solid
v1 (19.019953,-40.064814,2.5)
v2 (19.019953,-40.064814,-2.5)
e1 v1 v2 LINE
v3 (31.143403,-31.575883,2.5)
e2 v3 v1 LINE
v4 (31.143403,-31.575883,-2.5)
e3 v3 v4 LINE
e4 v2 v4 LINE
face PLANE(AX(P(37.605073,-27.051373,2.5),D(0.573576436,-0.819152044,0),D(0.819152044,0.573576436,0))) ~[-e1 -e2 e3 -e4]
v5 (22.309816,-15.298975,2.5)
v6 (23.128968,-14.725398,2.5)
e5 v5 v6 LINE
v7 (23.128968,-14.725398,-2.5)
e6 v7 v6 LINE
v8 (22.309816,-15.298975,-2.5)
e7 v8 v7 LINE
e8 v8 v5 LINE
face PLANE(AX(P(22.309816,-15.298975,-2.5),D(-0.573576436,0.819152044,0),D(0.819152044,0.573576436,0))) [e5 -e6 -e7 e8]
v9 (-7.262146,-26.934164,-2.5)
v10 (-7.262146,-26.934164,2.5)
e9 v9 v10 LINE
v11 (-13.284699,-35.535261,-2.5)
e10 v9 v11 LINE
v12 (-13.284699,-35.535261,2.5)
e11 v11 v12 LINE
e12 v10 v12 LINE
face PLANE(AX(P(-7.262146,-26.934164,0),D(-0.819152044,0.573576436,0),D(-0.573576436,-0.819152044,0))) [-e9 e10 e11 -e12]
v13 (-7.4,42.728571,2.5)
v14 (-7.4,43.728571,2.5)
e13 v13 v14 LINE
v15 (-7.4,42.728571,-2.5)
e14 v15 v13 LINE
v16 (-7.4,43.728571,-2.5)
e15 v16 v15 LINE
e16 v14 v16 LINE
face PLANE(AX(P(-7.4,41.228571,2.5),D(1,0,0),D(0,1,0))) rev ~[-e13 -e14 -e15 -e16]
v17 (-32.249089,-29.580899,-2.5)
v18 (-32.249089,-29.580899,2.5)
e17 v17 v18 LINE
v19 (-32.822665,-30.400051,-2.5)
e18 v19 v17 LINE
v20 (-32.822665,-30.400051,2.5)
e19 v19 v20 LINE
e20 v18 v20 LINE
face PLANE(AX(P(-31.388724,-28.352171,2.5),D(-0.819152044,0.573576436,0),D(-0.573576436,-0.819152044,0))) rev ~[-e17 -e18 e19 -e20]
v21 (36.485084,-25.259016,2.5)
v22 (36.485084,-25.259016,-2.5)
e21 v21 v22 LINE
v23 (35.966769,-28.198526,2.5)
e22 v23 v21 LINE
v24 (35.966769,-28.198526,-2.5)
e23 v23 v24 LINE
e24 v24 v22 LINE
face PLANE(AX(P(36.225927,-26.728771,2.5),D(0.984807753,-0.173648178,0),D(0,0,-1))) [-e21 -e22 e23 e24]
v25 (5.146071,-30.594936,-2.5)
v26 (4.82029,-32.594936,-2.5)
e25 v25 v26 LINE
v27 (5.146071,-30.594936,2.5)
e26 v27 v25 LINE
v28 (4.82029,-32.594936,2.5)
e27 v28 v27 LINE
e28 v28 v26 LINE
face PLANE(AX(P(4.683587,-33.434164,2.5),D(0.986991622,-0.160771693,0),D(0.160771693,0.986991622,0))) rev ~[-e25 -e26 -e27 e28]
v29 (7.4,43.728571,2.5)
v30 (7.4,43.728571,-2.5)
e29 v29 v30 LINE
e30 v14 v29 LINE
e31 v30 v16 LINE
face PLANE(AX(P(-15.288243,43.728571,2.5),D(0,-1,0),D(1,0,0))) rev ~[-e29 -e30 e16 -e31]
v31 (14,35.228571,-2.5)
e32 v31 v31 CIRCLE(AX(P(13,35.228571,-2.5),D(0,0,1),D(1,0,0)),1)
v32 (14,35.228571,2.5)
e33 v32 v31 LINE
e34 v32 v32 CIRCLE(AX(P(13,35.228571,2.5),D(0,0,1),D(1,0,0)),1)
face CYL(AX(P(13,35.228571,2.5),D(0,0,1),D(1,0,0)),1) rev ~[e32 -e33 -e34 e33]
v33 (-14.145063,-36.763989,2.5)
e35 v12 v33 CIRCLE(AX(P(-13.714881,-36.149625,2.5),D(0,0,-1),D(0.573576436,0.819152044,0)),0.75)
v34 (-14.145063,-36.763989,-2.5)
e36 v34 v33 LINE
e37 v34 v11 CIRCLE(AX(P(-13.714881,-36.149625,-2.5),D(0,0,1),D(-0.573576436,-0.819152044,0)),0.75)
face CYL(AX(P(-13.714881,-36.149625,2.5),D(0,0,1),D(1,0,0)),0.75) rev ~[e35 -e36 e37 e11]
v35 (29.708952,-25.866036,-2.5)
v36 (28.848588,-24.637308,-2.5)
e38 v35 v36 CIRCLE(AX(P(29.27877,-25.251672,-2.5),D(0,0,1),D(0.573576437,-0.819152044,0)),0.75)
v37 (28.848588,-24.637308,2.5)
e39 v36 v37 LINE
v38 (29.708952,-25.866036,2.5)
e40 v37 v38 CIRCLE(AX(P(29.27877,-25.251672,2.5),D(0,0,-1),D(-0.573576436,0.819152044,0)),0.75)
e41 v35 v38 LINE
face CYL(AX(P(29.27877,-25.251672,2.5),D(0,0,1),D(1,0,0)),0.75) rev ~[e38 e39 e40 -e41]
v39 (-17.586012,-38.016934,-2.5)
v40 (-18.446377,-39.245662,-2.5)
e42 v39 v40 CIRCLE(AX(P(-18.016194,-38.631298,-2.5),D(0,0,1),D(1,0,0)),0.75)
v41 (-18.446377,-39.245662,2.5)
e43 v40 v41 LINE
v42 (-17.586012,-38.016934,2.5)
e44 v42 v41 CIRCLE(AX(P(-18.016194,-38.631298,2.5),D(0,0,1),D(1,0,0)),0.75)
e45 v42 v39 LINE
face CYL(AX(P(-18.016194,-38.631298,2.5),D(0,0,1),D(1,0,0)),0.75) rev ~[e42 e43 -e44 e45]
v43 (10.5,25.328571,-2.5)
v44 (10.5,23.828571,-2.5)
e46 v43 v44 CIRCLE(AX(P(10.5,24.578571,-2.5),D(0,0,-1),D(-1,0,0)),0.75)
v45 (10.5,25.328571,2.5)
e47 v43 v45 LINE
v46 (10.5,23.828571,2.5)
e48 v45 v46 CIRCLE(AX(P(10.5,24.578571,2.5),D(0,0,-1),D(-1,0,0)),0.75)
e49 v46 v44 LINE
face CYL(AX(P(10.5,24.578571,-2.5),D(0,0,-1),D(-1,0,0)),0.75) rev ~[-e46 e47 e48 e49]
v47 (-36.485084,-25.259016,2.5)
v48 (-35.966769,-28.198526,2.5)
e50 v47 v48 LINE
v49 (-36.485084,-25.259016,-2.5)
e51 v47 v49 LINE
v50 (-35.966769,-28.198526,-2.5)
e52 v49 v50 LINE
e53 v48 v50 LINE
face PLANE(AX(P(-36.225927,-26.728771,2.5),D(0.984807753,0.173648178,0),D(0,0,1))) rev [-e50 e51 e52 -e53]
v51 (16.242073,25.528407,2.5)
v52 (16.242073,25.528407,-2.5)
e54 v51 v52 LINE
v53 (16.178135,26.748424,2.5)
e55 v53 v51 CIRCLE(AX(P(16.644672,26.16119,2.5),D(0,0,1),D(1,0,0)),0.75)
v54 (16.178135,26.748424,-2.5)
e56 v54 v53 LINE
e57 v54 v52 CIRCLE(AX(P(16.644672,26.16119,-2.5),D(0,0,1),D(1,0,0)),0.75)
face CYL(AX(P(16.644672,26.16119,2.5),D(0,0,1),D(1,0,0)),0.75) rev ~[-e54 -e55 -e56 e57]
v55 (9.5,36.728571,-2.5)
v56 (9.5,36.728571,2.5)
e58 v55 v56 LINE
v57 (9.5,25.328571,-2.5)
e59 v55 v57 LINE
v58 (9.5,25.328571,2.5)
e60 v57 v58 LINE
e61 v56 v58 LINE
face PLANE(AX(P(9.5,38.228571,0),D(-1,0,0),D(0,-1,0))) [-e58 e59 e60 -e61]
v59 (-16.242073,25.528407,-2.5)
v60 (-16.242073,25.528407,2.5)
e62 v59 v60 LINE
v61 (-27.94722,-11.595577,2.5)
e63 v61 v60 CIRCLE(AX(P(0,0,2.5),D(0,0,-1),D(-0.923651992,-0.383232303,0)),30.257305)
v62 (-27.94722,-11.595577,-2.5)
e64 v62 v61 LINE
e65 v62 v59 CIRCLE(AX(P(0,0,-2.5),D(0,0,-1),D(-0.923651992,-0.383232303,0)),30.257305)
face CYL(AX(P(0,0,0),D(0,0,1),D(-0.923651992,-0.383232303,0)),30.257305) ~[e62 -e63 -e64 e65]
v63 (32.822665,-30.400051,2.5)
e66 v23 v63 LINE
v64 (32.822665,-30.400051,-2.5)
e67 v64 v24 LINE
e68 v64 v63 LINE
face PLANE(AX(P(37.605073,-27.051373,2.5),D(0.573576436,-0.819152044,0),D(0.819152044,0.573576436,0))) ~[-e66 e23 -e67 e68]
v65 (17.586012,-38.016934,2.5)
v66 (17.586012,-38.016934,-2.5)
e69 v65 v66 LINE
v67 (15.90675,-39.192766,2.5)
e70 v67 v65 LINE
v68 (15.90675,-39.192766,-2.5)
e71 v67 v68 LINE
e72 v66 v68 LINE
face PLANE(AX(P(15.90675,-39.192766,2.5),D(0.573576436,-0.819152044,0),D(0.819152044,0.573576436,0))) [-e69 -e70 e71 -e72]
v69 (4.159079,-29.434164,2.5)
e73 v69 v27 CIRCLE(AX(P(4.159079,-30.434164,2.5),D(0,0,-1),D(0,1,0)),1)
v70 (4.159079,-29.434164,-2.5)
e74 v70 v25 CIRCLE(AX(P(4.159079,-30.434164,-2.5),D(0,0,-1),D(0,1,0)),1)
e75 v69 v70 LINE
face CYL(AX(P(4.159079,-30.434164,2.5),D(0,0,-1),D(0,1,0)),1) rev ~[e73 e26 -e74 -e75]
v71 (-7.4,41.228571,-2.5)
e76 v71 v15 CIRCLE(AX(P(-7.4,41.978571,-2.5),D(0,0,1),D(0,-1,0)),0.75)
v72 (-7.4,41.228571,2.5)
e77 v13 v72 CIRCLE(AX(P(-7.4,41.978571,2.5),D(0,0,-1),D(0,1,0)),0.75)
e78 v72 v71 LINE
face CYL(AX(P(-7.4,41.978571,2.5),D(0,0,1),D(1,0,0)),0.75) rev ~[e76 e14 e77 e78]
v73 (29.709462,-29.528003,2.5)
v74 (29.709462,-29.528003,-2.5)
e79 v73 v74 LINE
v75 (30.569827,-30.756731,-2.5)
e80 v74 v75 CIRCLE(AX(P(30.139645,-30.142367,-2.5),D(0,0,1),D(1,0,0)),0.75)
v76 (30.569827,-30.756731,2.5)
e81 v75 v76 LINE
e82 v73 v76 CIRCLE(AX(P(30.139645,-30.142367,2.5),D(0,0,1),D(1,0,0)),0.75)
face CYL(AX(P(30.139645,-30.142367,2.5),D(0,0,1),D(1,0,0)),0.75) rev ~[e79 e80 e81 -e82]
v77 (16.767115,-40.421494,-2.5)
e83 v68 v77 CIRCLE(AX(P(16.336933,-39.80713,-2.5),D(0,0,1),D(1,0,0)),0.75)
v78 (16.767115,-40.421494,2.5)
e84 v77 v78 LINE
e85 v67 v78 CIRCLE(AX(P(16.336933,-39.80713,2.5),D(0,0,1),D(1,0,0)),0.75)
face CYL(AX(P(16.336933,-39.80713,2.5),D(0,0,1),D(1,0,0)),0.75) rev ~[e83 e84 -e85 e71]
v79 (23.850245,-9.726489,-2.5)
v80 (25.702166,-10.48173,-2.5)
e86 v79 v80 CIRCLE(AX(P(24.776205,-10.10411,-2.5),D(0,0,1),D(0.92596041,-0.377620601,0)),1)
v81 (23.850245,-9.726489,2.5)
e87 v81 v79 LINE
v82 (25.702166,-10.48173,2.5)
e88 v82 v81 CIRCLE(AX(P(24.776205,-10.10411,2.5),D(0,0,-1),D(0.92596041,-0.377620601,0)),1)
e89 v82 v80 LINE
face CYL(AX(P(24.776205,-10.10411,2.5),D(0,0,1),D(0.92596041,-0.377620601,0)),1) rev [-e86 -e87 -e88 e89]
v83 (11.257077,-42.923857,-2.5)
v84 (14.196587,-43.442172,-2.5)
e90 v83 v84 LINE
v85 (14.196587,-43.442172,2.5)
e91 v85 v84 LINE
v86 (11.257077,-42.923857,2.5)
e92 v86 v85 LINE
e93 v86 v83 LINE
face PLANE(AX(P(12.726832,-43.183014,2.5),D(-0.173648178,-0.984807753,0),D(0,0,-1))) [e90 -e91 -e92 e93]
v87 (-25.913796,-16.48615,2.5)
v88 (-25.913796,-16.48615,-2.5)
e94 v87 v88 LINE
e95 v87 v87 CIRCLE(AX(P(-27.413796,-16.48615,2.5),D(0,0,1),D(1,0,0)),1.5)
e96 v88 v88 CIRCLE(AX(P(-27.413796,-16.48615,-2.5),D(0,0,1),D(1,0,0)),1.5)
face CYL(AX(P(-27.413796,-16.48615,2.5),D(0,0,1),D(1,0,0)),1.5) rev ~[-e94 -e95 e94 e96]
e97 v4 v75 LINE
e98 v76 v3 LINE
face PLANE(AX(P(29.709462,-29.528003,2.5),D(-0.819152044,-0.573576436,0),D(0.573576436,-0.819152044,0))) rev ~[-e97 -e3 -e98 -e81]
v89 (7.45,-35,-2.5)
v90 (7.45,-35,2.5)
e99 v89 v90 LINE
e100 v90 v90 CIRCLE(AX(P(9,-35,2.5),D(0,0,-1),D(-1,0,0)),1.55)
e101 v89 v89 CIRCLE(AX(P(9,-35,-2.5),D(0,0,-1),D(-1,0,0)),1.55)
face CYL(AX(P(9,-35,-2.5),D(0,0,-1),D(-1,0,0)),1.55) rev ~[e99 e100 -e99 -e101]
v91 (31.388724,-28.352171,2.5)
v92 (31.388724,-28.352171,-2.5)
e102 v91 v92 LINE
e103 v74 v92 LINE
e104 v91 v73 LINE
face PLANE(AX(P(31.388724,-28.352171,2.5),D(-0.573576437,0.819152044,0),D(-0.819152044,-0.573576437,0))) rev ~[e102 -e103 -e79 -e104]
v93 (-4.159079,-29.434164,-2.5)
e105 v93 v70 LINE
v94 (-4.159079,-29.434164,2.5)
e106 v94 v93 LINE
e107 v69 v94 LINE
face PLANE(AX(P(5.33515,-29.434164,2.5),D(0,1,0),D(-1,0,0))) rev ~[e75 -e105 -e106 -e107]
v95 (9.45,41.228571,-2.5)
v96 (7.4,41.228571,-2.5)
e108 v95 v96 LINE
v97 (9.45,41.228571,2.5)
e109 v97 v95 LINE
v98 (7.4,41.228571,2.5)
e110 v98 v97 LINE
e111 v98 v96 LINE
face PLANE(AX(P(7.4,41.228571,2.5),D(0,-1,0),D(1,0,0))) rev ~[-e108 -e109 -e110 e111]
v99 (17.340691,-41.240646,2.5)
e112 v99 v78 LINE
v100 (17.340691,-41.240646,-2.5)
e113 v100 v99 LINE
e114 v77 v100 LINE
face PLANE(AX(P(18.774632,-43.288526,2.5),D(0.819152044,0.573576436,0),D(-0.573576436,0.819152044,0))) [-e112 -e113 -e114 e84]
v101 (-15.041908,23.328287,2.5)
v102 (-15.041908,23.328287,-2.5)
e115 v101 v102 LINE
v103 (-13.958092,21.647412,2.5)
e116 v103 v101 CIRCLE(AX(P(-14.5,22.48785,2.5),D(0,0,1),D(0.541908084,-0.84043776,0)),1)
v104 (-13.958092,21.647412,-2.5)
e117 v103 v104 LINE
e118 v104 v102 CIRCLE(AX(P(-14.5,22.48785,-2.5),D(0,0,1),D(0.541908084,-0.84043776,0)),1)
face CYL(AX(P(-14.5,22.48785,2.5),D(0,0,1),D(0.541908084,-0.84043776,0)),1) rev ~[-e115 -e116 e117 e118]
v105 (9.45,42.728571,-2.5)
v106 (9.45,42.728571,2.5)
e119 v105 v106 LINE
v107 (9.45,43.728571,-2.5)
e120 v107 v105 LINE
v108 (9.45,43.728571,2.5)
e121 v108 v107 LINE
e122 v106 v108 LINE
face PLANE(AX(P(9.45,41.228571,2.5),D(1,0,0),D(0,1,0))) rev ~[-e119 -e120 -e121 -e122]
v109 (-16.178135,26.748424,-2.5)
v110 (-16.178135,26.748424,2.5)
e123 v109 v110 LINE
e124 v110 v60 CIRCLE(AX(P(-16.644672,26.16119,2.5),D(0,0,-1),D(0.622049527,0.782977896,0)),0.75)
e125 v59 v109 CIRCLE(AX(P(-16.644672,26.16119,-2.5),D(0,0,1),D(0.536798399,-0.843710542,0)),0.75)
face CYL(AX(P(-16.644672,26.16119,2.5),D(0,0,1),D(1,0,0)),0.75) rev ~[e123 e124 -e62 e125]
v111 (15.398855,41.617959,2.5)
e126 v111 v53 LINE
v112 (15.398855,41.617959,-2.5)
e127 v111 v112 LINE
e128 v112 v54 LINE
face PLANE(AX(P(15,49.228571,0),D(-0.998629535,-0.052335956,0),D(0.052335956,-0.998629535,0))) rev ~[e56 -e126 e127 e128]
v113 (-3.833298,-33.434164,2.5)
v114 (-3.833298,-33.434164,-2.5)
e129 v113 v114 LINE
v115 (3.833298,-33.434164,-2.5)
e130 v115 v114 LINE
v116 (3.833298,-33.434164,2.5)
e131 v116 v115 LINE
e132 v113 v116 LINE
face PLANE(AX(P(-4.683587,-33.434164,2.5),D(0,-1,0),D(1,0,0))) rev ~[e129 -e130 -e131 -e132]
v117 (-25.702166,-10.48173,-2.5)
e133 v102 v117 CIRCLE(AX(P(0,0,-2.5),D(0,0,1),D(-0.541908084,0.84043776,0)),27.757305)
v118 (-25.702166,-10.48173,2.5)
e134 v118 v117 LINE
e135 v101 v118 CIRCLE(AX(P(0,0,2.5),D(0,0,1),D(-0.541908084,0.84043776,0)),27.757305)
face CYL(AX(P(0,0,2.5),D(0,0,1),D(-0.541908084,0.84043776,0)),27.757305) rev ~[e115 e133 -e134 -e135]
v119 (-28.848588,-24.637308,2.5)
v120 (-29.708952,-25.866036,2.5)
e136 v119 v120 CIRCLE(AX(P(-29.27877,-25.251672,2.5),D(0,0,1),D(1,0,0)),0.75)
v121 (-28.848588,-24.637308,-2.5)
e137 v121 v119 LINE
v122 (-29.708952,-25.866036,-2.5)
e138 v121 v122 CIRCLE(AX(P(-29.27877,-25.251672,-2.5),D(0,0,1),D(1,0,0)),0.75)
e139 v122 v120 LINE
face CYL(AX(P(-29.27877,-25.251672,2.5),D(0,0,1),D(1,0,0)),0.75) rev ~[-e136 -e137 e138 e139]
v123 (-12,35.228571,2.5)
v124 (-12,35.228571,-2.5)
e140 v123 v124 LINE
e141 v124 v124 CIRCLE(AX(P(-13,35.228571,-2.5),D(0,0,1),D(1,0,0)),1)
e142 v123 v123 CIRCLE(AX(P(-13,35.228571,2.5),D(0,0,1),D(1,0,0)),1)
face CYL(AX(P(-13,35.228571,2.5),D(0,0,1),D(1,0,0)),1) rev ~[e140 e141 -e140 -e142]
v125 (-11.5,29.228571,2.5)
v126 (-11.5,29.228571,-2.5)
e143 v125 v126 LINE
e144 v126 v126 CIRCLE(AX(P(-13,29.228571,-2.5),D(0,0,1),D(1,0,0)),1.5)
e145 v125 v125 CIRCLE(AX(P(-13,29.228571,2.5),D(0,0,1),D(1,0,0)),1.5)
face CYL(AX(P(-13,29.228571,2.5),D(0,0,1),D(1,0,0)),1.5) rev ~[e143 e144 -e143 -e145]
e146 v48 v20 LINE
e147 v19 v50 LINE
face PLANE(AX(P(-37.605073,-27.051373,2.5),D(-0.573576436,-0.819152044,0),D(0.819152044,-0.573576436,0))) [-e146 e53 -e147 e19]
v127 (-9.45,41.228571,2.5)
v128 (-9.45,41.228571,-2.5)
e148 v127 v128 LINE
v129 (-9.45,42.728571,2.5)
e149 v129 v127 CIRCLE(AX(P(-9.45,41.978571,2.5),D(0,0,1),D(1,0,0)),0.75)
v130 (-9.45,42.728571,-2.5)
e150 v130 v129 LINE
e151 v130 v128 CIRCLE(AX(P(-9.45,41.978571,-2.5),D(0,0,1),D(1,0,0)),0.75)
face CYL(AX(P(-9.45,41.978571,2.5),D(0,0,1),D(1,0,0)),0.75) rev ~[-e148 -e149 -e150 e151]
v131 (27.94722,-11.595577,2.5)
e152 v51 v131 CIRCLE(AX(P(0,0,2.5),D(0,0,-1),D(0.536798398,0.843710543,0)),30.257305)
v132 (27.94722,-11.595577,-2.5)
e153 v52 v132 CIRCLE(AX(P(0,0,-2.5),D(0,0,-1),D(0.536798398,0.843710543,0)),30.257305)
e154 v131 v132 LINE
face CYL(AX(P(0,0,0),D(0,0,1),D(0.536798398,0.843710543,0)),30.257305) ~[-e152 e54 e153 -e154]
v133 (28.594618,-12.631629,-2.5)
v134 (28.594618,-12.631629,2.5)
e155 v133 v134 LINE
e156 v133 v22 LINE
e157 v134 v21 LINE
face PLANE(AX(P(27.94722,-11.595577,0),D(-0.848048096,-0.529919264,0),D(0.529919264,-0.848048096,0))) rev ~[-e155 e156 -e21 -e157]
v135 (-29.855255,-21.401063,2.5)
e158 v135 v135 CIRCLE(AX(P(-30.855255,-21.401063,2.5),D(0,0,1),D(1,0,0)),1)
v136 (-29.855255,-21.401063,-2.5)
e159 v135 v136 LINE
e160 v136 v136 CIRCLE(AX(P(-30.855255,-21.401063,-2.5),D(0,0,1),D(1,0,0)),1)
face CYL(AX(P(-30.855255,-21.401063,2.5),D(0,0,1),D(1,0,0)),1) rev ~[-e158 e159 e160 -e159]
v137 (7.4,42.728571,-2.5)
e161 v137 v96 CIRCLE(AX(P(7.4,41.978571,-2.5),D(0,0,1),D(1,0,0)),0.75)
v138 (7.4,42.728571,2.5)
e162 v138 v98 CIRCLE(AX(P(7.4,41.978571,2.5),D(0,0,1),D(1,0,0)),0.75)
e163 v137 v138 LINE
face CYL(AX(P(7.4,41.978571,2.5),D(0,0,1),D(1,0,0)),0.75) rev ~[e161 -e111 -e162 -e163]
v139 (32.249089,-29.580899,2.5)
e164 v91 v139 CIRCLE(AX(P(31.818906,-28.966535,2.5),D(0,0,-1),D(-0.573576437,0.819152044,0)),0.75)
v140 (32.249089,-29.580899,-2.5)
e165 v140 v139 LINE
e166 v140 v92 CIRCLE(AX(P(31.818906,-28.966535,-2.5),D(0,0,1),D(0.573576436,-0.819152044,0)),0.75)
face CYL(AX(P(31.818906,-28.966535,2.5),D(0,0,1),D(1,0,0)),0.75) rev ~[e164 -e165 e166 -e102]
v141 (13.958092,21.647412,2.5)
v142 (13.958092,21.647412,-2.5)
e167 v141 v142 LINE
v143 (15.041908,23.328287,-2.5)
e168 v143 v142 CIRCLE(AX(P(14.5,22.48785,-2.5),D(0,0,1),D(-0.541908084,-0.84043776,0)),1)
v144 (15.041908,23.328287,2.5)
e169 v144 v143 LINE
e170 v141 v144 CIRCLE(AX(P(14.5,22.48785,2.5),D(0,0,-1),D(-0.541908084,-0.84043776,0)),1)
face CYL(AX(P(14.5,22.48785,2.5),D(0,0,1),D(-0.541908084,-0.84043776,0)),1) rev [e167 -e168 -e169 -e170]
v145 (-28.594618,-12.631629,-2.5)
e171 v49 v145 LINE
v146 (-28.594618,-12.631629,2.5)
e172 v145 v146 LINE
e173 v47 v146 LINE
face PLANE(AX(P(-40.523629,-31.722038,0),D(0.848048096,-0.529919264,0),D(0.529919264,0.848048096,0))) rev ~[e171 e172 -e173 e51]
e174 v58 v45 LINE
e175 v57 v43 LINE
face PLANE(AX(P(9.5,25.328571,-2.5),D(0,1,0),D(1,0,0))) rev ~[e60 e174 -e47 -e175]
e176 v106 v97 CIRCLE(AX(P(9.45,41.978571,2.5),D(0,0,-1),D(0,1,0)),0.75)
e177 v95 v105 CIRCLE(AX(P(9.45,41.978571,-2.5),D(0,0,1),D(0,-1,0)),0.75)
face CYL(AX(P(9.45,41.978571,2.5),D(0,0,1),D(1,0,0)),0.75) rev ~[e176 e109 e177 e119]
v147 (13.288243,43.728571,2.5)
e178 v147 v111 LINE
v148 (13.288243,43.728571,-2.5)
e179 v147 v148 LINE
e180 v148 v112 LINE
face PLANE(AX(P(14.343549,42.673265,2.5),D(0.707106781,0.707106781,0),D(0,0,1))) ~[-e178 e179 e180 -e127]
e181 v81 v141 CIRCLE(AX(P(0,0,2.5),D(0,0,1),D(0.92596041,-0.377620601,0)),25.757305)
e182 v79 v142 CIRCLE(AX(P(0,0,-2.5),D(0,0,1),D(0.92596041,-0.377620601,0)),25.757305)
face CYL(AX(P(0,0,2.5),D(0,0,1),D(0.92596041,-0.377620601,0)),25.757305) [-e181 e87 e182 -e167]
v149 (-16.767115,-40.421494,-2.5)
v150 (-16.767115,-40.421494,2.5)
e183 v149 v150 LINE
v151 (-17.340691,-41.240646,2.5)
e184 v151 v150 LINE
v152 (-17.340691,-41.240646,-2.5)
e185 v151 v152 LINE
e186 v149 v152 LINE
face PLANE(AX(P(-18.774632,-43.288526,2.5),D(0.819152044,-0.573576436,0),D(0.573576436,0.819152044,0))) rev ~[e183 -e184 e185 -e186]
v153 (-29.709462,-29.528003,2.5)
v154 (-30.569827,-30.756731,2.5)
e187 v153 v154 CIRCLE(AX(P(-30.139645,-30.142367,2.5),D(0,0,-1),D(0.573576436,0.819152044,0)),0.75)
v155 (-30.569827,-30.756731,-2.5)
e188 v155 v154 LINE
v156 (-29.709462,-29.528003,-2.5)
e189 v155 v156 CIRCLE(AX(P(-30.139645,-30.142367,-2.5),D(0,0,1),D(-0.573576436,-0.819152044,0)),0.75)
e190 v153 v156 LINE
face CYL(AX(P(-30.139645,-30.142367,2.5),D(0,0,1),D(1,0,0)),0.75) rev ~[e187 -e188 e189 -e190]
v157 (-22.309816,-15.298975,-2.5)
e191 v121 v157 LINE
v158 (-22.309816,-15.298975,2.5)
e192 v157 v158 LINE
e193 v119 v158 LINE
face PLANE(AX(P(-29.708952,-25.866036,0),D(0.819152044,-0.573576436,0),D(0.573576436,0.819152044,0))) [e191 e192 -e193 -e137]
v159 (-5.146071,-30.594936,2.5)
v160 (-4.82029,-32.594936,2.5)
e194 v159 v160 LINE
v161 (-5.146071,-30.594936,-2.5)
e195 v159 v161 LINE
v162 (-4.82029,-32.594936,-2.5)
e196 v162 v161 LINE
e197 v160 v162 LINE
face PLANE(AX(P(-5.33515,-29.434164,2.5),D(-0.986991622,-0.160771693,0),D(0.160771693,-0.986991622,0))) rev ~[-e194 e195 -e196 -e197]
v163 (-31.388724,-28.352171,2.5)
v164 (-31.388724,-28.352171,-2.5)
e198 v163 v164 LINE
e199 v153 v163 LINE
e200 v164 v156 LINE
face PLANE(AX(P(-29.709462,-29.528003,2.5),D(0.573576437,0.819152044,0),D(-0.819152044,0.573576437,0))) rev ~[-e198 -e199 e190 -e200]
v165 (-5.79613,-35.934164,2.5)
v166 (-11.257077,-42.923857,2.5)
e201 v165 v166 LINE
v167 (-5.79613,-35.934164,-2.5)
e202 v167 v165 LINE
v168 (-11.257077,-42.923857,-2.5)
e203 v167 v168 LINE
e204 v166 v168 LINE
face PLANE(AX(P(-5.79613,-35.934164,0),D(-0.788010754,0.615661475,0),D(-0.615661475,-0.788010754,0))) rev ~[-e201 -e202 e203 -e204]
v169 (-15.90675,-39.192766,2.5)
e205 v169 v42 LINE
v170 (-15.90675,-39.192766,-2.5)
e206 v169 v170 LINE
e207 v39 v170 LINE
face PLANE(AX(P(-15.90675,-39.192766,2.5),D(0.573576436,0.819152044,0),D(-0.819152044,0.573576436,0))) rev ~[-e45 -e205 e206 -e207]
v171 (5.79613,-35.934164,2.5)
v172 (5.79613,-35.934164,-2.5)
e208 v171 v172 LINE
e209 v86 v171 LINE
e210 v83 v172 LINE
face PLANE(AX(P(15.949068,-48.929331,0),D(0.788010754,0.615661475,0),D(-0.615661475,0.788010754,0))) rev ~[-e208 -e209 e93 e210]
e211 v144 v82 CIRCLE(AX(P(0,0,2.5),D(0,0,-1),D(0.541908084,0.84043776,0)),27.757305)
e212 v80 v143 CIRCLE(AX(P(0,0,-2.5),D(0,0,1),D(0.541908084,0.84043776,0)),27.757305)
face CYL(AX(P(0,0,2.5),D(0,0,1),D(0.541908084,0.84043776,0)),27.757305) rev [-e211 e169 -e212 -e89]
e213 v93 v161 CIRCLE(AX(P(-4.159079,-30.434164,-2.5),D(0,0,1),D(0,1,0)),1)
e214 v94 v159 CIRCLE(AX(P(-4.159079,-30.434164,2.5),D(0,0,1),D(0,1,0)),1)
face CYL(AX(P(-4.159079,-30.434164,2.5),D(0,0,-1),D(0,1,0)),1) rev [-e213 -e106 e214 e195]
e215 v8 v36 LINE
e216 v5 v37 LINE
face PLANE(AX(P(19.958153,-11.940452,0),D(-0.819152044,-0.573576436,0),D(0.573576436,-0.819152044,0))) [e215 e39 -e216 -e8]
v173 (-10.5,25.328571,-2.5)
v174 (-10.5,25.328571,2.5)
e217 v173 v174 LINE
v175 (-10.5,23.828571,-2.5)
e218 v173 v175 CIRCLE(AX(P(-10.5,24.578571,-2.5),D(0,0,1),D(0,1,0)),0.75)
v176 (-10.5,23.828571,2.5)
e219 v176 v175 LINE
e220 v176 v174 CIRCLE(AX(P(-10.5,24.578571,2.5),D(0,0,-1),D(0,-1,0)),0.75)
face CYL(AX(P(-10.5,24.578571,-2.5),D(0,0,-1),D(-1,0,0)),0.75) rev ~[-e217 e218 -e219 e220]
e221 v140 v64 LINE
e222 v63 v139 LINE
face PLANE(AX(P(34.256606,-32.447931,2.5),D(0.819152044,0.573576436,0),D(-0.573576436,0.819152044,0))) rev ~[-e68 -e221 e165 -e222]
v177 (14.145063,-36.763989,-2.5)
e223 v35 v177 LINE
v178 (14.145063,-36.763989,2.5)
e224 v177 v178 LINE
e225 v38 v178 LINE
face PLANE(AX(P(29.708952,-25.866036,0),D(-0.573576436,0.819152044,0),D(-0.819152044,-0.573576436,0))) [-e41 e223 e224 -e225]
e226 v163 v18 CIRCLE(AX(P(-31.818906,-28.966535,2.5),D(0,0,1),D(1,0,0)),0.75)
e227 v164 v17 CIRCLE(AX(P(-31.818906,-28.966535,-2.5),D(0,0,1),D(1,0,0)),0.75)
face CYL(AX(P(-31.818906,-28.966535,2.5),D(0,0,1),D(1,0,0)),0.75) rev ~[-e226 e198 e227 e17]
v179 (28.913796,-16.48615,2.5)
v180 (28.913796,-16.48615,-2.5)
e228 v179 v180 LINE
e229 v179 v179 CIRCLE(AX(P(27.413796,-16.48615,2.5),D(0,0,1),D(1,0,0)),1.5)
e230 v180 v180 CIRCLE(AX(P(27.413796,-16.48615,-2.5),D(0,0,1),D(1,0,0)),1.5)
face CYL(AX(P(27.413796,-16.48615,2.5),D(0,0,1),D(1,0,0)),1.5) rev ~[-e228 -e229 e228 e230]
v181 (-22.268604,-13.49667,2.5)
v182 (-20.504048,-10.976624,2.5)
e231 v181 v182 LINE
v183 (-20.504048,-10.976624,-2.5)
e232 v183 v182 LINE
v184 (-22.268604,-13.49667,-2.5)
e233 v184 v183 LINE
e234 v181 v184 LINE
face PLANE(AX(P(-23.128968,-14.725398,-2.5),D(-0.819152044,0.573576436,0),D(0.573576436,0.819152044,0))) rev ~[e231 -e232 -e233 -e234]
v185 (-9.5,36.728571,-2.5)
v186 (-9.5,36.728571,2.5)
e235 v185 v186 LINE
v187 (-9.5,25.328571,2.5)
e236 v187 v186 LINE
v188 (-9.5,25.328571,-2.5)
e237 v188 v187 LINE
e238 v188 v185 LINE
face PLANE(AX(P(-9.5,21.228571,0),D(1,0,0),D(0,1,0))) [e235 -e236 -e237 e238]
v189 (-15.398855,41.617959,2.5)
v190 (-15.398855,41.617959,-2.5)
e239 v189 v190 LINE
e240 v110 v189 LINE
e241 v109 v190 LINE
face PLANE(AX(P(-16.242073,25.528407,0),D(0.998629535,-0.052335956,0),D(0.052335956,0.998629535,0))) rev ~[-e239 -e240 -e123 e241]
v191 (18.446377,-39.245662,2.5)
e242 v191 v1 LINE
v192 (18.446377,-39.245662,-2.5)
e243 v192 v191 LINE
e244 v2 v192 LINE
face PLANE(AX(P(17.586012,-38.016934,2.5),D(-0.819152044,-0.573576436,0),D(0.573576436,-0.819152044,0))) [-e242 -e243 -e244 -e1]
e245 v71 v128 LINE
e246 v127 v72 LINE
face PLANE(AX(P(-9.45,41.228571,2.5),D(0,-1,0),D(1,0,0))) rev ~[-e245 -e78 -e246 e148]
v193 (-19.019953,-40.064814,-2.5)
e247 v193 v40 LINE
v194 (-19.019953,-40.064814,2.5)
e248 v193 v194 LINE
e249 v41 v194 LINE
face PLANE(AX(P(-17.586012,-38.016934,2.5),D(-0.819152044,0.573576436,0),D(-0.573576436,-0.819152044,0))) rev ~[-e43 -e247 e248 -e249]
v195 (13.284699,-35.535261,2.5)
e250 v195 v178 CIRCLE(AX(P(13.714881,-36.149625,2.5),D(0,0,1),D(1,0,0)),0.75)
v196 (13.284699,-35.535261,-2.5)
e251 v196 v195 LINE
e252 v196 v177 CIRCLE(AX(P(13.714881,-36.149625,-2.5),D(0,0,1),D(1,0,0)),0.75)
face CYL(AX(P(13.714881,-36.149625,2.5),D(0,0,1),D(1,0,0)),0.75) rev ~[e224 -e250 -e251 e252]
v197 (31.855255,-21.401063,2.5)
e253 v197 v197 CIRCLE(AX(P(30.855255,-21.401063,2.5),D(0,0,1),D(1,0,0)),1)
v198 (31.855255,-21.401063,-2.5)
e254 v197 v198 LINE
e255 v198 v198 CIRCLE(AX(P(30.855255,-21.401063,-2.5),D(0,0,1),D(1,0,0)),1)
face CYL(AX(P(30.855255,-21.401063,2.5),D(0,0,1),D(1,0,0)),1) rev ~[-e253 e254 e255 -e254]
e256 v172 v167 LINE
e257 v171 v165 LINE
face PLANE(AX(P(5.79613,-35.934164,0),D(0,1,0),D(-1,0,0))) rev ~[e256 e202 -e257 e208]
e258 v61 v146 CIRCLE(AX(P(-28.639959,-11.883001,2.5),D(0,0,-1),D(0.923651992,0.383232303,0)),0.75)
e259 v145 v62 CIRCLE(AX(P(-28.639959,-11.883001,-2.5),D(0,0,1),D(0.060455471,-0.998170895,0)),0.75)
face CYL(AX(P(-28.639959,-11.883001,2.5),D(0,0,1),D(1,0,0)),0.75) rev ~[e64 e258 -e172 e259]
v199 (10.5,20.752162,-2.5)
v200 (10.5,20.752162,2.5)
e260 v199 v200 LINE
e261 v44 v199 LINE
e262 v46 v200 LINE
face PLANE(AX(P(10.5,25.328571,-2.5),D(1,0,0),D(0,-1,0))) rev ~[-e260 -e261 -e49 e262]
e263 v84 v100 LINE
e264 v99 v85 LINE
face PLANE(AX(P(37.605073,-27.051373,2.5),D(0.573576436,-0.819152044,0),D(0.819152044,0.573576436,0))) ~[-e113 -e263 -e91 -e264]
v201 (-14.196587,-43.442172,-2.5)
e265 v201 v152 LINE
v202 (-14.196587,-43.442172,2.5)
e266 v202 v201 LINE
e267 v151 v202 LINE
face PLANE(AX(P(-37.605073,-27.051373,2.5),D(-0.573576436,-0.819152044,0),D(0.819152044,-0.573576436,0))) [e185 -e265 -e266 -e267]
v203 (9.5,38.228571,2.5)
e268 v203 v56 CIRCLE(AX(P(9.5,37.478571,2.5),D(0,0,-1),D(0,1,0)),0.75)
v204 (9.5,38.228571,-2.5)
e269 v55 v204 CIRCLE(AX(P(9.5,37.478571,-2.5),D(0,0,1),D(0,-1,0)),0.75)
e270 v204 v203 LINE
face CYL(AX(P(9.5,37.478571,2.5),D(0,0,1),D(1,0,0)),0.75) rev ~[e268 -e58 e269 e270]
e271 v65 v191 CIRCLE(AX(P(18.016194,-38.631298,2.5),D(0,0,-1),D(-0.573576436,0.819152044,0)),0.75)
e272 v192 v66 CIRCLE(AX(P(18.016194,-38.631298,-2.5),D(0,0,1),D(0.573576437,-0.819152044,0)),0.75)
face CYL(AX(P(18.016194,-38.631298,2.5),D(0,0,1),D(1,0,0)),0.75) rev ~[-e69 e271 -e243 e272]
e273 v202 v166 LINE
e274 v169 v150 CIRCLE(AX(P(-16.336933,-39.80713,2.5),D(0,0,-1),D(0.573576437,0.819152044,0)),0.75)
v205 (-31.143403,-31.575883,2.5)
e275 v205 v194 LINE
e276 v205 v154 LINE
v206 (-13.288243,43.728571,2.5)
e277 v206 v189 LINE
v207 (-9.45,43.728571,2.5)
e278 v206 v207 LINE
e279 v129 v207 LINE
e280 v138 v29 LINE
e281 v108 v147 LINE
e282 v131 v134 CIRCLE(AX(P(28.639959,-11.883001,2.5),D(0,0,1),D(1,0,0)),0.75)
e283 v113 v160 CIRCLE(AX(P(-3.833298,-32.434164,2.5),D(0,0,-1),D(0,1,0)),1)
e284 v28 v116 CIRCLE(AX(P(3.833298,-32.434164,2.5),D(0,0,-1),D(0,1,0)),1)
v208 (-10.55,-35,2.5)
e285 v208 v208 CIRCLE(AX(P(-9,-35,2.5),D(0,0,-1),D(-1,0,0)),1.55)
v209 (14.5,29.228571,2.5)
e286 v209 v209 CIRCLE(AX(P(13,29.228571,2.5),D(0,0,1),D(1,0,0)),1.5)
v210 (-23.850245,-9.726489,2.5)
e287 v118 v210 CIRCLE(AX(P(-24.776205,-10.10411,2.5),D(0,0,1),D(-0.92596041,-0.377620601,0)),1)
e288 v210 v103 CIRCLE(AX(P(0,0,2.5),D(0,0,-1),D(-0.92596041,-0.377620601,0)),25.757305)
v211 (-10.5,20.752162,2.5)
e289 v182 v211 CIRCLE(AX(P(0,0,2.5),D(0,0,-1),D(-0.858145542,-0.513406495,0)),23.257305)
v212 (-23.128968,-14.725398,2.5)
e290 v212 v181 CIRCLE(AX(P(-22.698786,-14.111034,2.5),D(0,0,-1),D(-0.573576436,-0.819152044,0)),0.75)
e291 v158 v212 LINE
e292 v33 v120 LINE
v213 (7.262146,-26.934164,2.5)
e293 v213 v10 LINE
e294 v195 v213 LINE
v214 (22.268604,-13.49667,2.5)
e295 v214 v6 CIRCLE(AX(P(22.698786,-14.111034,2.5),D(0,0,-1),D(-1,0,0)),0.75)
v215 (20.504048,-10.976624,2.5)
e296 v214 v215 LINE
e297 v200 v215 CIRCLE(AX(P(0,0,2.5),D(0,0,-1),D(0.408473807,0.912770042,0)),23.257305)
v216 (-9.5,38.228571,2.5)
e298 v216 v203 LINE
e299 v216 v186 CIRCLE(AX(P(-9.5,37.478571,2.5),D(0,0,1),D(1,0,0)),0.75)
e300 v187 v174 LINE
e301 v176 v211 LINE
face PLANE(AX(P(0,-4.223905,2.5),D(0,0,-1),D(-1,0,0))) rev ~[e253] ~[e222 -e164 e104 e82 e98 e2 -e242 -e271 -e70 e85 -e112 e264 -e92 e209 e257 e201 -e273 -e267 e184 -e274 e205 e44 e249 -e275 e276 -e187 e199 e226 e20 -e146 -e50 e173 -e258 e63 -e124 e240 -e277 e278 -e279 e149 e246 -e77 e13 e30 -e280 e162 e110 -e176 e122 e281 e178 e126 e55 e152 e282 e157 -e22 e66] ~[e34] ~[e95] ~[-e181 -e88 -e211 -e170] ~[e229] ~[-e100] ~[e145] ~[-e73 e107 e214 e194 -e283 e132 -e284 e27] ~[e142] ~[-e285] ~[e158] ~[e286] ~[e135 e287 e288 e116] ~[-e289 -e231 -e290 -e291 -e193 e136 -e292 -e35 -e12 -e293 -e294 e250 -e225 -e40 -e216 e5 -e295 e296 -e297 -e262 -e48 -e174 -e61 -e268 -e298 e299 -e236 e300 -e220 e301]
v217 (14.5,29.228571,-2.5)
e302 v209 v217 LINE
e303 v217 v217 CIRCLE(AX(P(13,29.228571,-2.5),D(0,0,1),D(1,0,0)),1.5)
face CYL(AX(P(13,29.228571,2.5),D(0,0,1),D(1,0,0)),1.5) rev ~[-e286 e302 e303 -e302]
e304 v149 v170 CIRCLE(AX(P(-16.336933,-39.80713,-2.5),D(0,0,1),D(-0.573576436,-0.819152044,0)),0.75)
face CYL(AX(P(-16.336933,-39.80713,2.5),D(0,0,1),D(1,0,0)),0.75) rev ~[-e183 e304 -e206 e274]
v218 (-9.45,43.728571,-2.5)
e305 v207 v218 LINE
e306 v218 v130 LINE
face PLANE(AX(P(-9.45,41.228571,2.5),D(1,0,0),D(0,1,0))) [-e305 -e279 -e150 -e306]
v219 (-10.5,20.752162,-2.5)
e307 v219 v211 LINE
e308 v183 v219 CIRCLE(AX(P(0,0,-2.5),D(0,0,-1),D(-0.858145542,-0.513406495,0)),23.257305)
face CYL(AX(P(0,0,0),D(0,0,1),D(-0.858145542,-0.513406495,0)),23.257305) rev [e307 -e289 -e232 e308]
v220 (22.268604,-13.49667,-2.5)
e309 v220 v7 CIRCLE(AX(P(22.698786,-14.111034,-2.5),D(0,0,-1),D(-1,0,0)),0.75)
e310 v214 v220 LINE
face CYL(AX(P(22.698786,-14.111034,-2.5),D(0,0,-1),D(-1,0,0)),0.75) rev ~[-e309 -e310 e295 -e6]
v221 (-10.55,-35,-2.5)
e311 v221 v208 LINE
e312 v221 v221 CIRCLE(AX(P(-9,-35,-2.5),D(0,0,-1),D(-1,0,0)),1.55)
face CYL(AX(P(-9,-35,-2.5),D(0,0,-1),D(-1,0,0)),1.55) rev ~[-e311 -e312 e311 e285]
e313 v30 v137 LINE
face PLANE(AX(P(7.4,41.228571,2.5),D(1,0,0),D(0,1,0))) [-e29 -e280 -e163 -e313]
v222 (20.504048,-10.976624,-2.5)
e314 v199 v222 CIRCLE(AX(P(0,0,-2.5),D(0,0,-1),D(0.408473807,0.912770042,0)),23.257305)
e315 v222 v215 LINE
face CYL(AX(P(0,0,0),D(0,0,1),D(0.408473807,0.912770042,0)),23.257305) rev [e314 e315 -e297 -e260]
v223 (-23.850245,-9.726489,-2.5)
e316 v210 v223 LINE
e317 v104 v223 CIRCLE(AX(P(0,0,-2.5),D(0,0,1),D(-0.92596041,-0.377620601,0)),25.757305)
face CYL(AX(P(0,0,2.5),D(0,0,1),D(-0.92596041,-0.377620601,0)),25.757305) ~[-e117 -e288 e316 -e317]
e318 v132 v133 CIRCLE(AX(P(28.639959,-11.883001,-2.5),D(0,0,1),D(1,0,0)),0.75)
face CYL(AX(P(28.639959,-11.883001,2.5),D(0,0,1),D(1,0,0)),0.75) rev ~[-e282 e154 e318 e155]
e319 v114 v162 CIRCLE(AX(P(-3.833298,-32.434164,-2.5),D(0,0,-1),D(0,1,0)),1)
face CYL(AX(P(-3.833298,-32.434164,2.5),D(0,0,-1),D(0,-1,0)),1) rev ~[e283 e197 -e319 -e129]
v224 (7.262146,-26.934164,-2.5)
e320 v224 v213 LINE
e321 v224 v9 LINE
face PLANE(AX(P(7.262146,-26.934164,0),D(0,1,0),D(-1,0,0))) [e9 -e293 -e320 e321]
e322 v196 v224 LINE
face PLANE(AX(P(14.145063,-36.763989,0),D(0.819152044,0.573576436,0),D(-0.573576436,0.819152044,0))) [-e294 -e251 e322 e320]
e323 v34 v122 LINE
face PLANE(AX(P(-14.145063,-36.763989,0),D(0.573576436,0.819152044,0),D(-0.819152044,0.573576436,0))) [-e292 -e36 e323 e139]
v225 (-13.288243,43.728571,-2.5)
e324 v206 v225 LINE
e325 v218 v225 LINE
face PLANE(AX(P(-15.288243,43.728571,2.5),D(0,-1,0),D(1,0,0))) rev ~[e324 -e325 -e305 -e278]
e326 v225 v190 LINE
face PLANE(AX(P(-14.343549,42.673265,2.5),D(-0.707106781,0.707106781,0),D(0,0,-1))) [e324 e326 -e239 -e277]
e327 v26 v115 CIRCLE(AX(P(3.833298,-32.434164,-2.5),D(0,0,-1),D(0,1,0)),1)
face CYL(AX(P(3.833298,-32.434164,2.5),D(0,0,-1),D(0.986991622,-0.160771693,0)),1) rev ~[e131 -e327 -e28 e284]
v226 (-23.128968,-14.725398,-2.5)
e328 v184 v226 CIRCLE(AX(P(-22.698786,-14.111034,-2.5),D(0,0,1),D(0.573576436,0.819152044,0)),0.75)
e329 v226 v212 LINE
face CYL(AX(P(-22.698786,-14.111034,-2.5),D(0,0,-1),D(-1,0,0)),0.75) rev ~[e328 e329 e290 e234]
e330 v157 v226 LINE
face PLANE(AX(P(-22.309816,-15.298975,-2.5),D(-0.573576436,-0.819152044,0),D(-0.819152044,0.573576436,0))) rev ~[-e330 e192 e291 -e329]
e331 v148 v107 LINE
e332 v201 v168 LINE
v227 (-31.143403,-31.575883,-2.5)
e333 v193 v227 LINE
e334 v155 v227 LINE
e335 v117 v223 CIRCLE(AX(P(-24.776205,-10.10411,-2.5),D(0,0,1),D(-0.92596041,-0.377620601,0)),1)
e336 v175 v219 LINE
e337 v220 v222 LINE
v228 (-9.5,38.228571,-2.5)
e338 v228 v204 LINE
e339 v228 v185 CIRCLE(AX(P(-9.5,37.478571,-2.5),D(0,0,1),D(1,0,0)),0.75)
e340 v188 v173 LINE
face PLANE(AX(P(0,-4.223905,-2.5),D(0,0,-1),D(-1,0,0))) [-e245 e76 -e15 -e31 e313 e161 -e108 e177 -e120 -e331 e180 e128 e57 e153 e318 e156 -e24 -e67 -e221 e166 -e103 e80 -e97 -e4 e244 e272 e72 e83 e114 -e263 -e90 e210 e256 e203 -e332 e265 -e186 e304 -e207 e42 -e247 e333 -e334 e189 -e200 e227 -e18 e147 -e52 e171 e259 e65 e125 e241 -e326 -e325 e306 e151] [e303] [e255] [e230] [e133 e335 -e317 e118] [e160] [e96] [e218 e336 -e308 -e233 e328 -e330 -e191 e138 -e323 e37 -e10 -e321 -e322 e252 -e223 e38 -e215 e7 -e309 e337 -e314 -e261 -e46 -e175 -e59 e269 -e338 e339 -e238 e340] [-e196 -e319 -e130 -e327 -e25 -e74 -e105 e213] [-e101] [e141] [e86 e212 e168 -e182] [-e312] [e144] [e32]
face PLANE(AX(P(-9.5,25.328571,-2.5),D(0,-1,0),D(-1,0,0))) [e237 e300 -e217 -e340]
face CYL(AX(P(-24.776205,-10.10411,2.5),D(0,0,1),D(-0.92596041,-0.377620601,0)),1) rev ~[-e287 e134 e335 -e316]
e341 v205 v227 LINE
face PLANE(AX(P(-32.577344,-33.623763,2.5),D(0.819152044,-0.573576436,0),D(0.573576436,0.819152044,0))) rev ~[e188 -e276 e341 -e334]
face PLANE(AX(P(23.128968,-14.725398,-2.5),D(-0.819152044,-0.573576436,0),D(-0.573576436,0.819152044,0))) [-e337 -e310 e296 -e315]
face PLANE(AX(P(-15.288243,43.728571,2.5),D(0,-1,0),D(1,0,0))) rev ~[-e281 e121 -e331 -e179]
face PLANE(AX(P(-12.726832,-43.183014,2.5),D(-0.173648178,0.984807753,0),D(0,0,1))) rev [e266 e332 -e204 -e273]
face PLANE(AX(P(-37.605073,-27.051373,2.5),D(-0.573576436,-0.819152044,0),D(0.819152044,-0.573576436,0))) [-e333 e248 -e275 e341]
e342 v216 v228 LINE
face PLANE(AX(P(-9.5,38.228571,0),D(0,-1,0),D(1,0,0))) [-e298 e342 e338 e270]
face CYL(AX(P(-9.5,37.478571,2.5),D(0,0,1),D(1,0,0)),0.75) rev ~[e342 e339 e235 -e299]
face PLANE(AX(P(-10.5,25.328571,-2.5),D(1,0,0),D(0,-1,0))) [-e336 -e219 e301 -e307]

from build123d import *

# Parameters (mm, degrees)
EXTRUDE_1_DEPTH        = 2.5
SKETCH_2_W             = 2.05
SKETCH_2_H             = 5
CUT_EXTRUDE_1_DEPTH    = 6
SKETCH_3_R             = 0.75
CUT_EXTRUDE_2_DEPTH    = 6
CUT_EXTRUDE_3_DEPTH    = 6
SKETCH_5_R             = 0.75
CUT_EXTRUDE_4_DEPTH    = 6
CUT_EXTRUDE_6_DEPTH    = 6
SKETCH_8_R             = 0.75
CUT_EXTRUDE_7_DEPTH    = 6
CUT_EXTRUDE_8_DEPTH    = 6
CUT_EXTRUDE_9_DEPTH    = 6
CUT_EXTRUDE_10_DEPTH   = 6
FILLET_1_R             = 1
SKETCH_12_R            = 1.5
SKETCH_12_R_2          = 1
CUT_EXTRUDE_11_DEPTH   = 6
CHAMFER_1_SIZE2        = 2.113509005
CHAMFER_1_SIZE         = 2
CHAMFER_1_EDGE_2_SIZE2 = 2.113509005
CHAMFER_1_EDGE_2_SIZE  = 2
CHAMFER_1_EDGE_3_SIZE2 = 2
CHAMFER_1_EDGE_3_SIZE  = 2.113509005
CHAMFER_1_EDGE_4_SIZE2 = 2.113509005
CHAMFER_1_EDGE_4_SIZE  = 2
CHAMFER_1_EDGE_5_SIZE2 = 2
CHAMFER_1_EDGE_5_SIZE  = 2.113509005
CHAMFER_1_EDGE_6_SIZE2 = 2.113509005
CHAMFER_1_EDGE_6_SIZE  = 2
SKETCH_13_R            = 1.55
CUT_EXTRUDE_12_DEPTH   = 6


with BuildPart() as part:
    # 草图1 → 凸台-拉伸1 (new body, symmetric)
    with BuildSketch(Plane.XY):
        with BuildLine():
            Line((-15, 49.228571429), (15, 49.228571429))
            Line((15, 49.228571429), (16.242072966, 25.52840738))
            ThreePointArc((16.242072966, 25.52840738), (28.856904848, 9.098547149), (27.947220205, -11.595576762))
            Line((27.947220205, -11.595576762), (40.523629231, -31.722038378))
            Line((40.523629231, -31.722038378), (15.949067902, -48.929331468))
            Line((15.949067902, -48.929331468), (5.796130384, -35.93416405))
            Line((5.796130384, -35.93416405), (-5.796130384, -35.93416405))
            Line((-5.796130384, -35.93416405), (-15.949067902, -48.929331468))
            Line((-15.949067902, -48.929331468), (-40.523629231, -31.722038378))
            Line((-40.523629231, -31.722038378), (-27.947220205, -11.595576762))
            ThreePointArc((-27.947220205, -11.595576762), (-28.856904848, 9.098547149), (-16.242072966, 25.52840738))
            Line((-16.242072966, 25.52840738), (-15, 49.228571429))
        make_face()
        with BuildLine():
            Line((-9.5, 38.228571429), (9.5, 38.228571429))
            Line((9.5, 38.228571429), (9.5, 21.228571429))
            ThreePointArc((9.5, 21.228571429), (22.180886192, 6.993606553), (19.95815277, -11.940451538))
            Line((19.95815277, -11.940451538), (29.708952188, -25.866036291))
            Line((29.708952188, -25.866036291), (14.145063346, -36.763988581))
            Line((14.145063346, -36.763988581), (7.26214611, -26.93416405))
            Line((7.26214611, -26.93416405), (-7.26214611, -26.93416405))
            Line((-7.26214611, -26.93416405), (-14.145063346, -36.763988581))
            Line((-14.145063346, -36.763988581), (-29.708952188, -25.866036291))
            Line((-29.708952188, -25.866036291), (-19.95815277, -11.940451538))
            ThreePointArc((-19.95815277, -11.940451538), (-22.180886192, 6.993606553), (-9.5, 21.228571429))
            Line((-9.5, 21.228571429), (-9.5, 38.228571429))
        make_face(mode=Mode.SUBTRACT)
    extrude(amount=EXTRUDE_1_DEPTH, both=True)

    # 草图2 → 切除-拉伸1 (cut, through all)
    with BuildSketch(Plane.XY.offset(2.5)):
        with Locations((8.425, 43.728571429)):
            Rectangle(SKETCH_2_W, SKETCH_2_H)
        with Locations((-8.425, 43.728571429)):
            Rectangle(SKETCH_2_W, SKETCH_2_H)
        Polygon((34.256606076, -32.447931467), (31.388723894, -28.352171245), (29.709462204, -29.52800294), (32.577344385, -33.623763161), align=None)
        Polygon((15.906750257, -39.192765892), (17.586011948, -38.016934198), (20.45389413, -42.112694419), (18.774632439, -43.288526114), align=None)
        Polygon((-34.256606076, -32.447931467), (-32.577344385, -33.623763161), (-29.709462204, -29.52800294), (-31.388723894, -28.352171245), align=None)
        Polygon((-18.774632439, -43.288526114), (-15.906750257, -39.192765892), (-17.586011948, -38.016934198), (-20.45389413, -42.112694419), align=None)
    extrude(amount=-CUT_EXTRUDE_1_DEPTH, mode=Mode.SUBTRACT)

    # 草图3 → 切除-拉伸2 (cut, through all)
    with BuildSketch(Plane.XY.offset(2.5)):
        with Locations((-9.45, 45.478571429)):
            Circle(SKETCH_3_R)
        with Locations((-9.45, 41.978571429)):
            Circle(SKETCH_3_R)
        with Locations((-7.4, 41.978571429)):
            Circle(SKETCH_3_R)
        with Locations((-7.4, 45.478571429)):
            Circle(SKETCH_3_R)
        with Locations((7.4, 45.478571429)):
            Circle(SKETCH_3_R)
        with Locations((7.4, 41.978571429)):
            Circle(SKETCH_3_R)
        with Locations((9.45, 41.978571429)):
            Circle(SKETCH_3_R)
        with Locations((9.45, 45.478571429)):
            Circle(SKETCH_3_R)
        with Locations((-9.5, 37.478571429)):
            Circle(SKETCH_3_R)
        with Locations((9.5, 37.478571429)):
            Circle(SKETCH_3_R)
        with Locations((-29.27876986, -25.251672257)):
            Circle(SKETCH_3_R)
        with Locations((29.27876986, -25.251672257)):
            Circle(SKETCH_3_R)
        with Locations((-31.818906222, -28.966535279)):
            Circle(SKETCH_3_R)
        with Locations((-30.139644531, -30.142366973)):
            Circle(SKETCH_3_R)
        with Locations((-33.826423749, -31.833567434)):
            Circle(SKETCH_3_R)
        with Locations((-32.147162058, -33.009399128)):
            Circle(SKETCH_3_R)
        with Locations((-18.016194275, -38.631298231)):
            Circle(SKETCH_3_R)
        with Locations((-20.023711803, -41.498330386)):
            Circle(SKETCH_3_R)
        with Locations((-16.336932585, -39.807129926)):
            Circle(SKETCH_3_R)
        with Locations((-18.344450112, -42.674162081)):
            Circle(SKETCH_3_R)
        with Locations((16.336932585, -39.807129926)):
            Circle(SKETCH_3_R)
        with Locations((18.344450112, -42.674162081)):
            Circle(SKETCH_3_R)
        with Locations((18.016194275, -38.631298231)):
            Circle(SKETCH_3_R)
        with Locations((20.023711803, -41.498330386)):
            Circle(SKETCH_3_R)
        with Locations((30.139644531, -30.142366973)):
            Circle(SKETCH_3_R)
        with Locations((32.147162058, -33.009399128)):
            Circle(SKETCH_3_R)
        with Locations((33.826423749, -31.833567434)):
            Circle(SKETCH_3_R)
        with Locations((31.818906222, -28.966535279)):
            Circle(SKETCH_3_R)
        with Locations((-13.714881019, -36.149624548)):
            Circle(SKETCH_3_R)
        with Locations((13.714881019, -36.149624548)):
            Circle(SKETCH_3_R)
    extrude(amount=-CUT_EXTRUDE_2_DEPTH, mode=Mode.SUBTRACT)

    # 草图4 → 切除-拉伸3 (cut, through all)
    with BuildSketch(Plane(origin=(0, 0, -2.5), x_dir=(-1, 0, 0), z_dir=(0, 0, -1))):
        Polygon((-9.5, 25.328571429), (-10.5, 25.328571429), (-10.5, 20.752162415), (-9.5, 21.228571429), align=None)
        Polygon((-22.309816159, -15.298974919), (-23.128968203, -14.725398483), (-20.50404783, -10.976623684), (-19.95815277, -11.940451538), align=None)
        Polygon((20.50404783, -10.976623684), (19.95815277, -11.940451538), (22.309816159, -15.298974919), (23.128968203, -14.725398483), align=None)
        Polygon((10.5, 20.752162415), (9.5, 21.228571429), (9.5, 25.328571429), (10.5, 25.328571429), align=None)
    extrude(amount=-CUT_EXTRUDE_3_DEPTH, mode=Mode.SUBTRACT)

    # 草图5 → 切除-拉伸4 (cut, through all)
    with BuildSketch(Plane(origin=(0, 0, -2.5), x_dir=(-1, 0, 0), z_dir=(0, 0, -1))):
        with Locations((-10.5, 24.578571429)):
            Circle(SKETCH_5_R)
        with Locations((-22.698785876, -14.11103445)):
            Circle(SKETCH_5_R)
        with Locations((22.698785876, -14.11103445)):
            Circle(SKETCH_5_R)
        with Locations((10.5, 24.578571429)):
            Circle(SKETCH_5_R)
    extrude(amount=-CUT_EXTRUDE_4_DEPTH, mode=Mode.SUBTRACT)

    # 草图7 → 切除-拉伸6 (cut, through all)
    with BuildSketch(Plane.XY.offset(2.5)):
        with BuildLine():
            ThreePointArc((-15.041908084, 23.328287396), (-26.472612471, 8.346782651), (-25.702165708, -10.481730275))
            ThreePointArc((-25.702165708, -10.481730275), (-24.398584696, -11.030070084), (-23.850244887, -9.726489073))
            ThreePointArc((-23.850244887, -9.726489073), (-24.565178569, 7.745371052), (-13.958091916, 21.647411876))
            ThreePointArc((-13.958091916, 21.647411876), (-13.65956224, 23.02975772), (-15.041908084, 23.328287396))
        make_face()
        with BuildLine():
            ThreePointArc((15.041908084, 23.328287396), (26.472612471, 8.346782651), (25.702165708, -10.481730275))
            ThreePointArc((25.702165708, -10.481730275), (24.398584696, -11.030070084), (23.850244887, -9.726489073))
            ThreePointArc((23.850244887, -9.726489073), (24.565178569, 7.745371052), (13.958091916, 21.647411876))
            ThreePointArc((13.958091916, 21.647411876), (13.65956224, 23.02975772), (15.041908084, 23.328287396))
        make_face()
    extrude(amount=-CUT_EXTRUDE_6_DEPTH, mode=Mode.SUBTRACT)

    # 草图8 → 切除-拉伸7 (cut, through all)
    with BuildSketch(Plane.XY.offset(2.5)):
        with Locations((-16.644671765, 26.161190287)):
            Circle(SKETCH_8_R)
        with Locations((16.644671765, 26.161190287)):
            Circle(SKETCH_8_R)
        with Locations((-28.639959199, -11.883000989)):
            Circle(SKETCH_8_R)
        with Locations((28.639959199, -11.883000989)):
            Circle(SKETCH_8_R)
    extrude(amount=-CUT_EXTRUDE_7_DEPTH, mode=Mode.SUBTRACT)

    # 草图9 → 切除-拉伸8 (cut, through all)
    with BuildSketch(Plane.XY.offset(2.5)):
        Polygon((-15.288242786, 43.728571429), (15.288242786, 43.728571429), (15, 49.228571429), (-15, 49.228571429), align=None)
    extrude(amount=-CUT_EXTRUDE_8_DEPTH, mode=Mode.SUBTRACT)

    # 草图10 → 切除-拉伸9 (cut, through all)
    with BuildSketch(Plane.XY.offset(2.5)):
        Polygon((-37.605073499, -27.051372864), (-12.558282835, -44.589324495), (-15.949067902, -48.929331468), (-40.523629231, -31.722038378), align=None)
    cut_extrude_9 = extrude(amount=-CUT_EXTRUDE_9_DEPTH, mode=Mode.SUBTRACT)

    # 镜向1: 切除-拉伸9 across plane
    add(cut_extrude_9.mirror(Plane(origin=(0, 0, 0), x_dir=(0, 0, 1), z_dir=(1, 0, 0))), mode=Mode.SUBTRACT)

    # 草图11 → 切除-拉伸10 (cut, through all)
    with BuildSketch(Plane.XY.offset(2.5)):
        Polygon((-5.335149781, -29.43416405), (-4.683587236, -33.43416405), (4.683587236, -33.43416405), (5.335149781, -29.43416405), align=None)
    extrude(amount=-CUT_EXTRUDE_10_DEPTH, mode=Mode.SUBTRACT)

    # 圆角1
    fillet_1_edges = [part.edges().sort_by_distance(p)[0] for p in [
        (-5.335149781, -29.43416405, 0),
        (5.335149781, -29.43416405, 0),
        (4.683587236, -33.43416405, 0),
        (-4.683587236, -33.43416405, 0),
    ]]
    fillet(fillet_1_edges, radius=FILLET_1_R)

    # 草图12 → 切除-拉伸11 (cut, through all)
    with BuildSketch(Plane.XY.offset(2.5)):
        with Locations((-13, 29.228571429)):
            Circle(SKETCH_12_R)
        with Locations((-27.413796415, -16.486150365)):
            Circle(SKETCH_12_R)
        with Locations((13, 29.228571429)):
            Circle(SKETCH_12_R)
        with Locations((27.413796415, -16.486150365)):
            Circle(SKETCH_12_R)
        with Locations((-13, 35.228571429)):
            Circle(SKETCH_12_R_2)
        with Locations((-30.855255033, -21.401062631)):
            Circle(SKETCH_12_R_2)
        with Locations((30.855255033, -21.401062631)):
            Circle(SKETCH_12_R_2)
        with Locations((13, 35.228571429)):
            Circle(SKETCH_12_R_2)
    extrude(amount=-CUT_EXTRUDE_11_DEPTH, mode=Mode.SUBTRACT)

    # 倒角1
    chamfer_1_edges = [part.edges().sort_by_distance(p)[0] for p in [
        (15.288242786, 43.728571429, 0),
    ]]
    chamfer(chamfer_1_edges, length=CHAMFER_1_SIZE, length2=CHAMFER_1_SIZE2)

    # 倒角1 edge 2
    chamfer_1_edge_2_edges = [part.edges().sort_by_distance(p)[0] for p in [
        (-15.288242786, 43.728571429, 0),
    ]]
    chamfer(chamfer_1_edge_2_edges, length=CHAMFER_1_EDGE_2_SIZE, length2=CHAMFER_1_EDGE_2_SIZE2)

    # 倒角1 edge 3
    chamfer_1_edge_3_edges = [part.edges().sort_by_distance(p)[0] for p in [
        (-37.605073499, -27.051372864, 0),
    ]]
    chamfer(chamfer_1_edge_3_edges, length=CHAMFER_1_EDGE_3_SIZE, length2=CHAMFER_1_EDGE_3_SIZE2)

    # 倒角1 edge 4
    chamfer_1_edge_4_edges = [part.edges().sort_by_distance(p)[0] for p in [
        (-12.558282835, -44.589324495, 0),
    ]]
    chamfer(chamfer_1_edge_4_edges, length=CHAMFER_1_EDGE_4_SIZE, length2=CHAMFER_1_EDGE_4_SIZE2)

    # 倒角1 edge 5
    chamfer_1_edge_5_edges = [part.edges().sort_by_distance(p)[0] for p in [
        (12.558282835, -44.589324495, 0),
    ]]
    chamfer(chamfer_1_edge_5_edges, length=CHAMFER_1_EDGE_5_SIZE, length2=CHAMFER_1_EDGE_5_SIZE2)

    # 倒角1 edge 6
    chamfer_1_edge_6_edges = [part.edges().sort_by_distance(p)[0] for p in [
        (37.605073499, -27.051372864, 0),
    ]]
    chamfer(chamfer_1_edge_6_edges, length=CHAMFER_1_EDGE_6_SIZE, length2=CHAMFER_1_EDGE_6_SIZE2)

    # 草图13 → 切除-拉伸12 (cut, through all)
    with BuildSketch(Plane(origin=(0, 0, -2.5), x_dir=(-1, 0, 0), z_dir=(0, 0, -1))):
        with Locations((-9, -35)):
            Circle(SKETCH_13_R)
        with Locations((9, -35)):
            Circle(SKETCH_13_R)
    extrude(amount=-CUT_EXTRUDE_12_DEPTH, mode=Mode.SUBTRACT)


solid = part.part
